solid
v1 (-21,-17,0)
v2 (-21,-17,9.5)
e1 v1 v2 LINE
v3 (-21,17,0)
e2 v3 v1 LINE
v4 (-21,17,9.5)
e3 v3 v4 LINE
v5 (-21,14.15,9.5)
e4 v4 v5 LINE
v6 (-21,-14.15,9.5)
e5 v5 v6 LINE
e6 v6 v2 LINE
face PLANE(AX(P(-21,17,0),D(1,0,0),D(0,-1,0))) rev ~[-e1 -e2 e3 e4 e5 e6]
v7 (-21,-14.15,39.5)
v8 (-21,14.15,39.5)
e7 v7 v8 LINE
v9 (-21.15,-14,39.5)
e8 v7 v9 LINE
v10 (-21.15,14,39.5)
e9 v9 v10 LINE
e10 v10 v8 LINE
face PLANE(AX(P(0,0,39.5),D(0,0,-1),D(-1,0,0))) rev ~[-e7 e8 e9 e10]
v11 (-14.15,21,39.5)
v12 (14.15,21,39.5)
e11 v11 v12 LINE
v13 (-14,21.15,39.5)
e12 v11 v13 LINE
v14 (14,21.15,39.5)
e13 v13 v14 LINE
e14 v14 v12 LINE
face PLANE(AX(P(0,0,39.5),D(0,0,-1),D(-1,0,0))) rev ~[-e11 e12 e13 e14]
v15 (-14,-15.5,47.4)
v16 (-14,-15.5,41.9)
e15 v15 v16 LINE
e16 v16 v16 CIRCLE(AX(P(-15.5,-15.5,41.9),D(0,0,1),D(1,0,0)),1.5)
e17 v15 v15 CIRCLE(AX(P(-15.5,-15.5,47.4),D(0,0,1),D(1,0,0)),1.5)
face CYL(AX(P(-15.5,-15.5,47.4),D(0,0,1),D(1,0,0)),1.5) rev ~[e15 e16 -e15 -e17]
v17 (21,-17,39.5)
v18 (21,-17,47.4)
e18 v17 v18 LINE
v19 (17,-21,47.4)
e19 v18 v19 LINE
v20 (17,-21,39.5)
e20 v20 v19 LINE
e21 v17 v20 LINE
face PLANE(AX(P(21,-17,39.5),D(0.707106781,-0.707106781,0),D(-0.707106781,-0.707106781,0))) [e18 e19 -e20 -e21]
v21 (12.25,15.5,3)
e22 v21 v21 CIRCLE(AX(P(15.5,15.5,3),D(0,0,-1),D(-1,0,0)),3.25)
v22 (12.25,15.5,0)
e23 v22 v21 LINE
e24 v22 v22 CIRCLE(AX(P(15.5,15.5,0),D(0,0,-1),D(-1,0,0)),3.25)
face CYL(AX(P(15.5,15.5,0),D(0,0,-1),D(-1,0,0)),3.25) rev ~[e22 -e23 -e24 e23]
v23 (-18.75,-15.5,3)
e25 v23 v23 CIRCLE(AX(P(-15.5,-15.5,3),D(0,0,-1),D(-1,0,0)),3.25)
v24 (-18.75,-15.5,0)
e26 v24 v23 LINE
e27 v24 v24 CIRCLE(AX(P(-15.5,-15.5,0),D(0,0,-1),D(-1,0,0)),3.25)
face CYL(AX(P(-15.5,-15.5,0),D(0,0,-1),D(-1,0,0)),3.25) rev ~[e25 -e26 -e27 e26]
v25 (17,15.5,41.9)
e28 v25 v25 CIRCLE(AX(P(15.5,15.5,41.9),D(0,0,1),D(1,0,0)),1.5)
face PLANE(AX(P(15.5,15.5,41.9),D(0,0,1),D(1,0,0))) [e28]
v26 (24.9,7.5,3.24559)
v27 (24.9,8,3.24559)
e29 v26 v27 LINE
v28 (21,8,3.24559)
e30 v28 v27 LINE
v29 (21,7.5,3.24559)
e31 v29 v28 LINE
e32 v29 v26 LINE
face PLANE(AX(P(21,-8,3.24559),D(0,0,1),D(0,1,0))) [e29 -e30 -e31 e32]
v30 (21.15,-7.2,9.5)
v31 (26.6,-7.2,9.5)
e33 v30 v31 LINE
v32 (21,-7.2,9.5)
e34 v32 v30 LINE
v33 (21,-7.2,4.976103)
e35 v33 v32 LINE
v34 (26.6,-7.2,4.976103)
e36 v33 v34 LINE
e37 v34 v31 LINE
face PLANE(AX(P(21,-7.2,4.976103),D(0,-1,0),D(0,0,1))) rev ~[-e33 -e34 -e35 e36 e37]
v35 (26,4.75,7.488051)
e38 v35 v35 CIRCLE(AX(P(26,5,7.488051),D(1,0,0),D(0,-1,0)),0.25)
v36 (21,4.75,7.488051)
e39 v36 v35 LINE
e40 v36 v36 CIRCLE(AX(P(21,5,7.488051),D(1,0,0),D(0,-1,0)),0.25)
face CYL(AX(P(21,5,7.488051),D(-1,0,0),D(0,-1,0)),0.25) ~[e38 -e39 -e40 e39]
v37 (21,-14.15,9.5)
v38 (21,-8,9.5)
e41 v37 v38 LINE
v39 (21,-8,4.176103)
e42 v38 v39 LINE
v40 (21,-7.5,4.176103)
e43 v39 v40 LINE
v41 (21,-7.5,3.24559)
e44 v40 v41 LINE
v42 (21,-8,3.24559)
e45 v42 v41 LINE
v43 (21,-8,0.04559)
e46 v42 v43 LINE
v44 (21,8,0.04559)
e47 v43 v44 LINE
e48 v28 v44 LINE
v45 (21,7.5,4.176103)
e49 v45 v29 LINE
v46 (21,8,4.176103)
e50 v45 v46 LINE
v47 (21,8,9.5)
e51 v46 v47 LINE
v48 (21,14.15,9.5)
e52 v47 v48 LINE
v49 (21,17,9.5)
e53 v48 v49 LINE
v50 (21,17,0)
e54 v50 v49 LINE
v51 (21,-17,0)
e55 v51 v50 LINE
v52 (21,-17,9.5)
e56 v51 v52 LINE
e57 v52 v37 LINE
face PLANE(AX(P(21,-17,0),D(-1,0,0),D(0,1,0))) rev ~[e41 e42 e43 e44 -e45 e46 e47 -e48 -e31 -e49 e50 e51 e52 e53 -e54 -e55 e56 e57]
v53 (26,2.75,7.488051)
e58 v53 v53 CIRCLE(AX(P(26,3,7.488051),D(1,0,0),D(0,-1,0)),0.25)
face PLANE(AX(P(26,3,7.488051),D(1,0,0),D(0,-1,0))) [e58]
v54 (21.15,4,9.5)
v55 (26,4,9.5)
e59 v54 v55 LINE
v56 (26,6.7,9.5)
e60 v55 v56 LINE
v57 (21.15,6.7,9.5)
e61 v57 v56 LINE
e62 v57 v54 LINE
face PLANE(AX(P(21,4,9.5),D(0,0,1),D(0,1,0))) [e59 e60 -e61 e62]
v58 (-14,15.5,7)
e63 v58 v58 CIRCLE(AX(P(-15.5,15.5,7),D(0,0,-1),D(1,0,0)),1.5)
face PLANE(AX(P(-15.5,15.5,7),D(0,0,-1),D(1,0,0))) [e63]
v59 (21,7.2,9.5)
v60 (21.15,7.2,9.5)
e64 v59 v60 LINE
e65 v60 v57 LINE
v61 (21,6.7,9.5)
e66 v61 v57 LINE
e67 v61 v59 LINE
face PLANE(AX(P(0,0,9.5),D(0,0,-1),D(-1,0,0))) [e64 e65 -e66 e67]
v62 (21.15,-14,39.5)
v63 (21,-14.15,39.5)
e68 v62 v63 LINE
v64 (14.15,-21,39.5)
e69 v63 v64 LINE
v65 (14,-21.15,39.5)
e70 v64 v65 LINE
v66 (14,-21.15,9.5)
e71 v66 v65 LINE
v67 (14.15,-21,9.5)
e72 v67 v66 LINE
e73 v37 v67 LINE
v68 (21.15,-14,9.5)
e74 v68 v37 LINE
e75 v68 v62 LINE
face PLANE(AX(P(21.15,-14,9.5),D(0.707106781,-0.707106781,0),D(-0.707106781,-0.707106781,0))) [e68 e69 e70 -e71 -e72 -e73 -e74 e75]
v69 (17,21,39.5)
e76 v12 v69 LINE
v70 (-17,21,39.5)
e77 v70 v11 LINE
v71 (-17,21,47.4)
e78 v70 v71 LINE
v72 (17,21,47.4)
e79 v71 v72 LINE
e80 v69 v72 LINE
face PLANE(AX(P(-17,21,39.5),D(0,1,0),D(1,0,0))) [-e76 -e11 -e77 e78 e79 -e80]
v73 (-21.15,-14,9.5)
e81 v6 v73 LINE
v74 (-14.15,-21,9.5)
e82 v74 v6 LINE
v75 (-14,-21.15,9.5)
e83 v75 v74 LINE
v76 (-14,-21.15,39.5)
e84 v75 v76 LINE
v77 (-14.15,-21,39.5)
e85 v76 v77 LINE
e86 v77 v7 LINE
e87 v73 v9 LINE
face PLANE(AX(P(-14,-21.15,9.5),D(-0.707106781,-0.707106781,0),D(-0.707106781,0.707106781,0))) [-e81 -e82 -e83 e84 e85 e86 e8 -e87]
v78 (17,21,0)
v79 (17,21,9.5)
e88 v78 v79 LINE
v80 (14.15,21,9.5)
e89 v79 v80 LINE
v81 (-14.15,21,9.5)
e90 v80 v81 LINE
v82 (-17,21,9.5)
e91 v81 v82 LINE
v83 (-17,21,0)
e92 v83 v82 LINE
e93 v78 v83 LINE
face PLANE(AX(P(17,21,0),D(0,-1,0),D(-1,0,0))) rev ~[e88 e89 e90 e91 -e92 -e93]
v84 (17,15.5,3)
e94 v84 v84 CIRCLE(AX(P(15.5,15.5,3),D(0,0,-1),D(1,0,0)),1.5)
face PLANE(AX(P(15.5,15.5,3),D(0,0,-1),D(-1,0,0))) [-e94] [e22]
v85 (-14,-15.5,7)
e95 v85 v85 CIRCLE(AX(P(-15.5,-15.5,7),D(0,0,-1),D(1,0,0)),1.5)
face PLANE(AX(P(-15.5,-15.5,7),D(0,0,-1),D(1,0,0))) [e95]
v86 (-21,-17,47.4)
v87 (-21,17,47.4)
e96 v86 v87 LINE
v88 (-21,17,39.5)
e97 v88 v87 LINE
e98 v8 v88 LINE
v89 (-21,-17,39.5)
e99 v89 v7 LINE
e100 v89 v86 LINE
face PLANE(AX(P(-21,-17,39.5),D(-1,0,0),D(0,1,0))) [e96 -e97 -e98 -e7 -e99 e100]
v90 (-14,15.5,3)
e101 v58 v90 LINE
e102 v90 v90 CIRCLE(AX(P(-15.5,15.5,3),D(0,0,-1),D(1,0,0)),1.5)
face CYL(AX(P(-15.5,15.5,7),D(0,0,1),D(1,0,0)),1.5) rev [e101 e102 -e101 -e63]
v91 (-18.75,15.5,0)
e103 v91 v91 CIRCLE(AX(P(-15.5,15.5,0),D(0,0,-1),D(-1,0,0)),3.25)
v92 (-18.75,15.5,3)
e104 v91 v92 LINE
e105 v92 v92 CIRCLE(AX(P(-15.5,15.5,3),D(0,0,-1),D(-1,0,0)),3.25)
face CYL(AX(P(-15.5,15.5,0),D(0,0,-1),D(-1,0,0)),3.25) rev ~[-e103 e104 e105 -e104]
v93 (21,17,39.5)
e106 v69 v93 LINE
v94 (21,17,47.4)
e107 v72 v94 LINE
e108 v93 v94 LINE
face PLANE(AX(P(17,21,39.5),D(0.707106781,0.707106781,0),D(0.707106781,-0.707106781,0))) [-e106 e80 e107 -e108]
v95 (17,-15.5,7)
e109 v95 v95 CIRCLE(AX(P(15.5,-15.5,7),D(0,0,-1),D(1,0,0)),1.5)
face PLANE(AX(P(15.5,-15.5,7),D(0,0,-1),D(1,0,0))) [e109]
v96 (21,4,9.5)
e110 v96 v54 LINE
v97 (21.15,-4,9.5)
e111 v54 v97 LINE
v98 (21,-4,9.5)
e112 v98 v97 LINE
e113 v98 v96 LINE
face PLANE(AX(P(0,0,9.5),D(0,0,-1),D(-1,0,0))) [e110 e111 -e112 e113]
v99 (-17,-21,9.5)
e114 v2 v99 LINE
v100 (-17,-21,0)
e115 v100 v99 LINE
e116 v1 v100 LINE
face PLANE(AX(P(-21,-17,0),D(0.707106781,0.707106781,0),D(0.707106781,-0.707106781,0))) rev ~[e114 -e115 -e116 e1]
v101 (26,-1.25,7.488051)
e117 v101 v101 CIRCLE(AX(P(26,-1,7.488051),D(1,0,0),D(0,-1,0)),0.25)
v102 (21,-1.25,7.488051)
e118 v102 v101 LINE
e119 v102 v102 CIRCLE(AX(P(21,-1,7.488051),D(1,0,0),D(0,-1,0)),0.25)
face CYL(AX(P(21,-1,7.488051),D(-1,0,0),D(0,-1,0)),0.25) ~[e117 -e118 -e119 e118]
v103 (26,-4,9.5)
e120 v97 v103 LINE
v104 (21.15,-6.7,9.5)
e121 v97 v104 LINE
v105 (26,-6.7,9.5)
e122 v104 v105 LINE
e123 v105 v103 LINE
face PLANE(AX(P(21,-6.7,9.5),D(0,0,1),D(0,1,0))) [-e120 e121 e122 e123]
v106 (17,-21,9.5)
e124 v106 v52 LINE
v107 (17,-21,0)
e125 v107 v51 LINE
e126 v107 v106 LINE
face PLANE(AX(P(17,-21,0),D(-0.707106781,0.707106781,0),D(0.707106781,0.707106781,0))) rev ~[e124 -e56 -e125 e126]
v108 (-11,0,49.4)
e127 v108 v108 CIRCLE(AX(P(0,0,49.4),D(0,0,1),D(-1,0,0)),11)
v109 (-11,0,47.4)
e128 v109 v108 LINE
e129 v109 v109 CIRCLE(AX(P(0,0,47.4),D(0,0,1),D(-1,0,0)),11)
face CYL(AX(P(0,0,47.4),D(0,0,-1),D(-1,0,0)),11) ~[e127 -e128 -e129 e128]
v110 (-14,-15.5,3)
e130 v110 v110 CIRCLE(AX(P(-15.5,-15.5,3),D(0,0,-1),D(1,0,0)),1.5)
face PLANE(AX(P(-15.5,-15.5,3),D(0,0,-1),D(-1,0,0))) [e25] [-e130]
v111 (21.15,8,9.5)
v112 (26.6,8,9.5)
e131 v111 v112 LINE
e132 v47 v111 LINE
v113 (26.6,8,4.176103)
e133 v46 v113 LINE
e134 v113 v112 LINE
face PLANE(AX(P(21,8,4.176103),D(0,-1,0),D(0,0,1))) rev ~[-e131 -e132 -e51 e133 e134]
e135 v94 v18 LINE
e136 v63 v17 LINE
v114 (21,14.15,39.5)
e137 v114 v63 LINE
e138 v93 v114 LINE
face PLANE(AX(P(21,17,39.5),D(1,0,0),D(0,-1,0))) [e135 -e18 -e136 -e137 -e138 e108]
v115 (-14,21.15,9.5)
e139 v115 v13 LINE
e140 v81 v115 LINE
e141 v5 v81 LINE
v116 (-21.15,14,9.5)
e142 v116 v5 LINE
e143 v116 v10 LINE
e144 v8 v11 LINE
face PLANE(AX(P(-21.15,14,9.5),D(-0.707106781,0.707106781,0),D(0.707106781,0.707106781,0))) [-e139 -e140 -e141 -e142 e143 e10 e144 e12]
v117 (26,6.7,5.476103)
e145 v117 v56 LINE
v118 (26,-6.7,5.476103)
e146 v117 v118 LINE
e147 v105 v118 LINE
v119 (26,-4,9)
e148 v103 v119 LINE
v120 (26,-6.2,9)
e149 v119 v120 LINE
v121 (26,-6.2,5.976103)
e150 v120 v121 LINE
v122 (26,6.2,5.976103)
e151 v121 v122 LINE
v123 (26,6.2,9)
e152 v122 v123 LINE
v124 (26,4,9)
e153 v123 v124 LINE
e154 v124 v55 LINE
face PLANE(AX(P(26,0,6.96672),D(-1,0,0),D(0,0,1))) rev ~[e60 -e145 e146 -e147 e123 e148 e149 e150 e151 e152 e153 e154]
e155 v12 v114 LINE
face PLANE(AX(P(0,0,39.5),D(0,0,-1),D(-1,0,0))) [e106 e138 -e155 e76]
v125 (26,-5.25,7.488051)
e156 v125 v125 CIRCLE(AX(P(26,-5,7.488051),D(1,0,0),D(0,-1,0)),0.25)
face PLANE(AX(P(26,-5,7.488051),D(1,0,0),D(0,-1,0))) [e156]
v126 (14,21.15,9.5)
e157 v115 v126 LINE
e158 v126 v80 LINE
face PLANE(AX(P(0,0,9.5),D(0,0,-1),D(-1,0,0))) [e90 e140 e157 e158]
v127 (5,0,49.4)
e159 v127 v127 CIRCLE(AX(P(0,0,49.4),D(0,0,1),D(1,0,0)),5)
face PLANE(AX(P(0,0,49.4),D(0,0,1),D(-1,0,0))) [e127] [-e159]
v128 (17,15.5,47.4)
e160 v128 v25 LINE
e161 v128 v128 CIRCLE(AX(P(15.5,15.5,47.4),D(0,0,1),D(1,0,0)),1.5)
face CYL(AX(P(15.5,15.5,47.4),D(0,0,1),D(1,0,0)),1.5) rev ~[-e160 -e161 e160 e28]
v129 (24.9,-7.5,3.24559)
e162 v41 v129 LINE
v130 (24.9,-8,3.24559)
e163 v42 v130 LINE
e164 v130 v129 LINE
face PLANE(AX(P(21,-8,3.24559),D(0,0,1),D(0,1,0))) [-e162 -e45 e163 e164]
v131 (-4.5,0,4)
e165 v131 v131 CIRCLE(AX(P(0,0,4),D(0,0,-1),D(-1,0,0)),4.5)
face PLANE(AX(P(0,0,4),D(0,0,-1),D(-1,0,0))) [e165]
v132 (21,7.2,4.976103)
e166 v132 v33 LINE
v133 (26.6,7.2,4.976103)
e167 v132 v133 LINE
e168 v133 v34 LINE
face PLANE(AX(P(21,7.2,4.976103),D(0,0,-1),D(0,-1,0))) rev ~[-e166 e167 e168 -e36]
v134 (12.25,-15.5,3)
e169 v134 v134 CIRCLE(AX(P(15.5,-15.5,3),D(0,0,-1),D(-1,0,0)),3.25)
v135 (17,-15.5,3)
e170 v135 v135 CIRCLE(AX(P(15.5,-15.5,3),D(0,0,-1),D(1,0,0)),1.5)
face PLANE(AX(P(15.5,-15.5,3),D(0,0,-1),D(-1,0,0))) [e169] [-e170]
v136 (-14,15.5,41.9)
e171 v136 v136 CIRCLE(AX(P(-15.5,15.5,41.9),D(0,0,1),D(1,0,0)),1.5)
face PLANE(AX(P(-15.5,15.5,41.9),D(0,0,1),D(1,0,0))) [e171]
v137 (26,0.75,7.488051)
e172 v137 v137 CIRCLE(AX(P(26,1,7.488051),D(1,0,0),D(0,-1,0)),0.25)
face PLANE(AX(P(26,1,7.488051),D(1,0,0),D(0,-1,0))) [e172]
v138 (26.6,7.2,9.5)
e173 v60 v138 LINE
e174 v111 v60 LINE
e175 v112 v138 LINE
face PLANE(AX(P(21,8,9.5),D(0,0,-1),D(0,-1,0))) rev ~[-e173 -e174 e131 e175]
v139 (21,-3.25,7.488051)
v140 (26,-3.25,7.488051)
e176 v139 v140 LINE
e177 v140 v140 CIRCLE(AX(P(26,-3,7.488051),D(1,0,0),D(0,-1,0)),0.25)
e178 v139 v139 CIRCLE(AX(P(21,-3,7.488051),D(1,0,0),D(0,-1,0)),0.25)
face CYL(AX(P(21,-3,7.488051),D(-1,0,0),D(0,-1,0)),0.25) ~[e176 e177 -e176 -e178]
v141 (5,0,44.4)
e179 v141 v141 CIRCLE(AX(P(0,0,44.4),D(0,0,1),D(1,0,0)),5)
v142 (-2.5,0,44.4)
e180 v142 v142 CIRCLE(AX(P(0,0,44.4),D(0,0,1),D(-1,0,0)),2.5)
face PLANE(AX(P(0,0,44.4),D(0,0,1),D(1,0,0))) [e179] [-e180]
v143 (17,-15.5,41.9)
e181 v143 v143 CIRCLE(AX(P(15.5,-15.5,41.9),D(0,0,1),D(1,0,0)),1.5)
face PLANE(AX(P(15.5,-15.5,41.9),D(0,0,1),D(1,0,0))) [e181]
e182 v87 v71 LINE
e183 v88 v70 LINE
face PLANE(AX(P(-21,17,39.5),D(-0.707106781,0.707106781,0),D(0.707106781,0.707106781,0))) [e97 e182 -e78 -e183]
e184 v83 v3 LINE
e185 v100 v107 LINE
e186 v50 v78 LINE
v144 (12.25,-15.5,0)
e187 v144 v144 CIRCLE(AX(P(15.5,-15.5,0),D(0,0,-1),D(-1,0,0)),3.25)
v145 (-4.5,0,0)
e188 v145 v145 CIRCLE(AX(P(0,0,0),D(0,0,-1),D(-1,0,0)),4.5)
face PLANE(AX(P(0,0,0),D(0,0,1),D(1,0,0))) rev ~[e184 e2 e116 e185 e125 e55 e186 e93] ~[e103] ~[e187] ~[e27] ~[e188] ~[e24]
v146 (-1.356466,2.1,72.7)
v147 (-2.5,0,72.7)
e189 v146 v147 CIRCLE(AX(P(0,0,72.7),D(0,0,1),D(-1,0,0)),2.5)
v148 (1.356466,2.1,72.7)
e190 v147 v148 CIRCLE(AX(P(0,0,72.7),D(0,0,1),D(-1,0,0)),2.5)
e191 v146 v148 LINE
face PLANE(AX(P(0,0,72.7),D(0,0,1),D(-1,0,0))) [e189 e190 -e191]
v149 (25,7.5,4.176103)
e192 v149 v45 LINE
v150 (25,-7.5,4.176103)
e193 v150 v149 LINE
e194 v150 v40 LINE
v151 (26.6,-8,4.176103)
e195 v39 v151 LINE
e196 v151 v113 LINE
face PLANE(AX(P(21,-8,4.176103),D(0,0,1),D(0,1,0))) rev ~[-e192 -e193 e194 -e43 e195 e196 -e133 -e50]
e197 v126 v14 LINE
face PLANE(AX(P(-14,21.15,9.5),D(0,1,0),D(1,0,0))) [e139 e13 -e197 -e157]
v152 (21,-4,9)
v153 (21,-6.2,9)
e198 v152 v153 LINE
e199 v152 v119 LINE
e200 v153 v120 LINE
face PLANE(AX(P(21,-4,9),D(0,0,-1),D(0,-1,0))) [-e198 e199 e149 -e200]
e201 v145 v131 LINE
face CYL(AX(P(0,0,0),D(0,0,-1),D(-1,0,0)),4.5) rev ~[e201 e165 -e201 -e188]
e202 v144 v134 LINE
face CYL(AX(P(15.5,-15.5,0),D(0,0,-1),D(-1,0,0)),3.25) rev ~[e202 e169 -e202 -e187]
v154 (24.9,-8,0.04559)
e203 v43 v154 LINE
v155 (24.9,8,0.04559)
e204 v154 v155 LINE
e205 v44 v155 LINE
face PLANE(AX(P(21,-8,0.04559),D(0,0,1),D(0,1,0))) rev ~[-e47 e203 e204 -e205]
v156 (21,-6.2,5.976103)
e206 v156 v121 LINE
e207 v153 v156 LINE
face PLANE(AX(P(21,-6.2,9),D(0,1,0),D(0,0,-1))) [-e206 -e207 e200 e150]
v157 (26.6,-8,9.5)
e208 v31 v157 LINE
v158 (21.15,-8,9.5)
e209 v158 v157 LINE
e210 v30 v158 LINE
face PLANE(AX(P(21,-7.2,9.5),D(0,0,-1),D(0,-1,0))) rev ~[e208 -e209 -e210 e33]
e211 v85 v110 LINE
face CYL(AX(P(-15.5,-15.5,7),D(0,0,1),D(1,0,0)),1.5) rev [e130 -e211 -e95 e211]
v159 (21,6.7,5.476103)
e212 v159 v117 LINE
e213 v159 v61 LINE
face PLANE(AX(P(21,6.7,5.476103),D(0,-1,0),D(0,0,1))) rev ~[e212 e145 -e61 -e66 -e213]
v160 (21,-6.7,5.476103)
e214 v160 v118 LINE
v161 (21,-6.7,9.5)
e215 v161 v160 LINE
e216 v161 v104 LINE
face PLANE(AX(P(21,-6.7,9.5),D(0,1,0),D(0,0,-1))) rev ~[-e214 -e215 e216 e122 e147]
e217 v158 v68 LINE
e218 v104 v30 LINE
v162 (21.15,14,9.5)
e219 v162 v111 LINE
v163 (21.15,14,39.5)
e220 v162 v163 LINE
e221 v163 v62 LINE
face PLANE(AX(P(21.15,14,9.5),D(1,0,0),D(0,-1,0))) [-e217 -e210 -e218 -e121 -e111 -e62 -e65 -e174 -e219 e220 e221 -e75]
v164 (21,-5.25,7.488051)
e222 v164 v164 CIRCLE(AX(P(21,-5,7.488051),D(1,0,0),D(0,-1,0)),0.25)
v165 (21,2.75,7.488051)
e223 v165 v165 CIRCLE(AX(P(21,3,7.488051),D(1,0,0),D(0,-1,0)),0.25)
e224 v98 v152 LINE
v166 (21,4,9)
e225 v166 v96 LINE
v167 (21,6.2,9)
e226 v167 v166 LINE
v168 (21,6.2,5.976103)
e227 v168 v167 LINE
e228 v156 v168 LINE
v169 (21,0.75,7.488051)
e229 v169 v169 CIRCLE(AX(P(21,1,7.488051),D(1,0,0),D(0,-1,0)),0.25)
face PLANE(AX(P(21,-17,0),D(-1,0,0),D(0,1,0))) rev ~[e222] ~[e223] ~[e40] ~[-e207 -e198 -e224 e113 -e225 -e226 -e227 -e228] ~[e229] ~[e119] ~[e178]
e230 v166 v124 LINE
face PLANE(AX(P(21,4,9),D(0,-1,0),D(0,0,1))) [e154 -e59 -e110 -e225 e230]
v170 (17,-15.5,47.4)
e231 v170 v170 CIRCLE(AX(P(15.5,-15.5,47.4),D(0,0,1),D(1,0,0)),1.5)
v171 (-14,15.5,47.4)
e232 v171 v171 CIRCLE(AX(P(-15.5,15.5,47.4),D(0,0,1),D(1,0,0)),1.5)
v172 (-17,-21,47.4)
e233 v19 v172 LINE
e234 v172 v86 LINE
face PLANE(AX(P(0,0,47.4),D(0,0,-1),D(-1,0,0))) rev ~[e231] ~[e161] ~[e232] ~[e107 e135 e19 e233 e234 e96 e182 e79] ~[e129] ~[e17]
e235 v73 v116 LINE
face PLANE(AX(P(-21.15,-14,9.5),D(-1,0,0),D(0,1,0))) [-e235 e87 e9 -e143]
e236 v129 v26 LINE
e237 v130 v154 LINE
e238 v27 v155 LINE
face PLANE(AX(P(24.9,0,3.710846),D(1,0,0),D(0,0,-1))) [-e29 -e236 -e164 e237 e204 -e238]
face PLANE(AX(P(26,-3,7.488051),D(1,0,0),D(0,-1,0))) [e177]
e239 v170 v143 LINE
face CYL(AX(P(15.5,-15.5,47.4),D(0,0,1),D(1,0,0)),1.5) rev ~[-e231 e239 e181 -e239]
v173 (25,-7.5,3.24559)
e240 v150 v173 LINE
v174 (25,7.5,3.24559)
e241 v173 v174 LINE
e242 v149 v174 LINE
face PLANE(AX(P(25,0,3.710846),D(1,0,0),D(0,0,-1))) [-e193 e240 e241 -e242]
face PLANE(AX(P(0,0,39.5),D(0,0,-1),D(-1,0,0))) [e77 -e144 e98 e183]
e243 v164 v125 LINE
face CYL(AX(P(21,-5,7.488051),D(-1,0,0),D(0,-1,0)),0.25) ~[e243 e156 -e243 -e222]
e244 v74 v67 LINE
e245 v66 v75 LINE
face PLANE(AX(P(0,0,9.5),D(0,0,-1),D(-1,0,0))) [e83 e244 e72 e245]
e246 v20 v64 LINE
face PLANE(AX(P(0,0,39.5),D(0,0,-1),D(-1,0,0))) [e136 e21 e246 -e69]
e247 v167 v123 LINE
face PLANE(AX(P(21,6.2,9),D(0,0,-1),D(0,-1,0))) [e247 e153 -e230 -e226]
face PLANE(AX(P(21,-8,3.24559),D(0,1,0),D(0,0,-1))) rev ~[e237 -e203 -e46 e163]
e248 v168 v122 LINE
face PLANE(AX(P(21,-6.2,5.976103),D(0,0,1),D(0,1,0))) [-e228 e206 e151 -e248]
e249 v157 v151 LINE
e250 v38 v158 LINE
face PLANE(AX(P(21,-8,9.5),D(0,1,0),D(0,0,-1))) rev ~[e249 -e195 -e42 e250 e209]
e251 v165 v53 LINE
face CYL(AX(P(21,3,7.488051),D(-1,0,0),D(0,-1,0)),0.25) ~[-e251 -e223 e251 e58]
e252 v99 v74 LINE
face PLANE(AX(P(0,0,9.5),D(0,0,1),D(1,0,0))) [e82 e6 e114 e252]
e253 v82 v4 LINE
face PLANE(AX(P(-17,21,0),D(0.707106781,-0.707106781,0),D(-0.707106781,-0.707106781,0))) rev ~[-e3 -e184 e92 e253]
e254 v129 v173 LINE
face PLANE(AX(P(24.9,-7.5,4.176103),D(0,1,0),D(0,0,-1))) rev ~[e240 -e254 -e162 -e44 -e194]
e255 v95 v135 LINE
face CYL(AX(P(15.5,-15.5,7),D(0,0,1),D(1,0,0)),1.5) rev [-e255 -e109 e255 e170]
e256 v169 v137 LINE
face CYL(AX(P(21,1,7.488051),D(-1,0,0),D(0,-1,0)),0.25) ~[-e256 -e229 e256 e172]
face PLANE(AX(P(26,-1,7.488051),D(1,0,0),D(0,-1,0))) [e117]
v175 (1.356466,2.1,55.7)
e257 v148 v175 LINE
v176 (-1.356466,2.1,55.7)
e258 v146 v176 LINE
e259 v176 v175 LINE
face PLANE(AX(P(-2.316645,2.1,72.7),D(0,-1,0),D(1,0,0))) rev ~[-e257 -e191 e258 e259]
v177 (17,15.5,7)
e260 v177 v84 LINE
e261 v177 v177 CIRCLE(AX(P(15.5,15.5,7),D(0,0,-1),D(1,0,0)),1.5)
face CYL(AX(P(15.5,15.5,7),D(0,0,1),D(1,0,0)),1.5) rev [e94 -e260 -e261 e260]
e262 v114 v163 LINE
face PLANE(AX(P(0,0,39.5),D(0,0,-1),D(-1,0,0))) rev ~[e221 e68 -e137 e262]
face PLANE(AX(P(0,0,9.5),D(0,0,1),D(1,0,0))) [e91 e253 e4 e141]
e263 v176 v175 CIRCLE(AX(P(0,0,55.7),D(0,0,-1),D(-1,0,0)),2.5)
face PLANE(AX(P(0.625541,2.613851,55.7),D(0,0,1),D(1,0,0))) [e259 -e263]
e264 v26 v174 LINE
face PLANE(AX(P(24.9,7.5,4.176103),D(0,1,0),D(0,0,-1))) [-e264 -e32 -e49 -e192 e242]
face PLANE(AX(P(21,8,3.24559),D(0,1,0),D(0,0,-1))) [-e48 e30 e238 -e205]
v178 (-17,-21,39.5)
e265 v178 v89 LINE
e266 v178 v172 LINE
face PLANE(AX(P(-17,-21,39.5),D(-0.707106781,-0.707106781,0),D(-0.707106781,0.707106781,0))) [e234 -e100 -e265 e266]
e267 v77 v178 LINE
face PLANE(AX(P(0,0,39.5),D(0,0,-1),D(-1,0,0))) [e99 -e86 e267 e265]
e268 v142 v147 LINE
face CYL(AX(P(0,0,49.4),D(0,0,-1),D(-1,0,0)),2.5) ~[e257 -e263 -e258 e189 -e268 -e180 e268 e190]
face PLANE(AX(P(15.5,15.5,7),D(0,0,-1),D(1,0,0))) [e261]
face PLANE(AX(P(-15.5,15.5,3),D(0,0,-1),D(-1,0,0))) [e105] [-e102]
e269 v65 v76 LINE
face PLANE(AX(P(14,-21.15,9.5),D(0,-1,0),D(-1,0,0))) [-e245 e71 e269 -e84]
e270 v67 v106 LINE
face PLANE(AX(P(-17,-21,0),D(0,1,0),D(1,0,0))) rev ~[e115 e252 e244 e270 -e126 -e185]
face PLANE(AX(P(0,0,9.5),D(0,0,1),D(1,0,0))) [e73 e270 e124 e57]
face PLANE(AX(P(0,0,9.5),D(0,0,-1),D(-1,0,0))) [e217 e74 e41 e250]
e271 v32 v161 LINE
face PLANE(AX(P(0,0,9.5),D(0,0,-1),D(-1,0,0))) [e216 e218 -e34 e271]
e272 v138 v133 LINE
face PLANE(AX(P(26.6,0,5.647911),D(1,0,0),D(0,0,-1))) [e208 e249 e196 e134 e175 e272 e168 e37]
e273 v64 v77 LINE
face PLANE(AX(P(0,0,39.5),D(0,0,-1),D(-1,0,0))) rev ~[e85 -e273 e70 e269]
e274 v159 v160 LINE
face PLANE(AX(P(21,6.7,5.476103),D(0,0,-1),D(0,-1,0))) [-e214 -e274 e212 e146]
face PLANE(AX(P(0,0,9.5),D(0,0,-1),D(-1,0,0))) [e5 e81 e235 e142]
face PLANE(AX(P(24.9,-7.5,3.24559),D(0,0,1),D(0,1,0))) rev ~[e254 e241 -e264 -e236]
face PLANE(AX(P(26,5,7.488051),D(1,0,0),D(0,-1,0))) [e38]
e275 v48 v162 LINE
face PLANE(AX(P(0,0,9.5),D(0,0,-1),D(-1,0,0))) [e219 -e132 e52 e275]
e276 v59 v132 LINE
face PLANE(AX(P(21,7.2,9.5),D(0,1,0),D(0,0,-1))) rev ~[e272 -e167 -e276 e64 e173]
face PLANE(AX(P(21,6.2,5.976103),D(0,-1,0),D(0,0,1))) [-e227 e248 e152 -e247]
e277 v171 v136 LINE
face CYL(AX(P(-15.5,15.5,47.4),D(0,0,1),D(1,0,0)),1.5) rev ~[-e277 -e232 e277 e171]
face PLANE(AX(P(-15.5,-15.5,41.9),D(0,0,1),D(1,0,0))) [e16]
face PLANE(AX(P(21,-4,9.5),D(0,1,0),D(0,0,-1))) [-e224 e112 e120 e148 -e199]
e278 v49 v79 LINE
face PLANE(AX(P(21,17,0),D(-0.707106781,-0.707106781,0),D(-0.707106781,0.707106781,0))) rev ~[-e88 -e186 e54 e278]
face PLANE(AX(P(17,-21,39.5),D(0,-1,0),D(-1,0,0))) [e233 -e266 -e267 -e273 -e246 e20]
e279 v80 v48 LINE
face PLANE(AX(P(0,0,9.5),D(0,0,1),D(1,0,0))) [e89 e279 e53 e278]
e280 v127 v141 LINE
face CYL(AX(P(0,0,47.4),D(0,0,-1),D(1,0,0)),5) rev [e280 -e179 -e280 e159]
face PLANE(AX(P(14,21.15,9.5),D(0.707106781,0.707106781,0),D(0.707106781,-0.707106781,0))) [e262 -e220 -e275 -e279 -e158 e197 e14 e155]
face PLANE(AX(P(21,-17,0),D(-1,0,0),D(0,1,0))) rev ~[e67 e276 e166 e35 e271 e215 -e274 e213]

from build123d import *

# Parameters (mm, degrees)
BOSS_EXTRUDE1_DEPTH  = 9.5
BOSS_EXTRUDE2_DEPTH  = 30
BOSS_EXTRUDE3_DEPTH  = 7.9
SKETCH5_R            = 11
SKETCH5_R_2          = 5
BOSS_EXTRUDE4_DEPTH  = 2
CUT_EXTRUDE1_START   = -3
SKETCH6_R            = 5
CUT_EXTRUDE1_DEPTH   = 3
SKETCH7_R            = 2.5
BOSS_EXTRUDE5_DEPTH  = 5
SKETCH8_R            = 2.5
BOSS_EXTRUDE6_DEPTH  = 23.3
CUT_EXTRUDE2_DEPTH   = 17
SKETCH11_W           = 3.2
SKETCH11_H           = 16
BOSS_EXTRUDE8_DEPTH  = 3.9
BOSS_EXTRUDE9_DEPTH  = 5.6
SKETCH13_W           = 0.930512921
SKETCH13_H           = 15
BOSS_EXTRUDE10_DEPTH = 3.9
SKETCH14_W           = 0.930512921
SKETCH14_H           = 15
BOSS_EXTRUDE11_DEPTH = 0.1
BOSS_EXTRUDE12_DEPTH = 5
SKETCH16_R           = 0.25
BOSS_EXTRUDE13_DEPTH = 5
SKETCH17_R           = 1.5
CUT_EXTRUDE3_DEPTH   = 5.5
SKETCH18_R           = 3.25
CUT_EXTRUDE4_DEPTH   = 3
CUT_EXTRUDE5_START   = -4
SKETCH20_R           = 1.5
CUT_EXTRUDE5_DEPTH   = 4
SKETCH21_R           = 4.5
CUT_EXTRUDE6_DEPTH   = 4


with BuildPart() as part:
    # Sketch1 → Boss-Extrude1 (new body)
    with BuildSketch(Plane.XY):
        Polygon((-17, 21), (-21, 17), (-21, -17), (-17, -21), (17, -21), (21, -17), (21, 17), (17, 21), align=None)
    extrude(amount=BOSS_EXTRUDE1_DEPTH)

    # Sketch2 → Boss-Extrude2 (add)
    with BuildSketch(Plane.XY.offset(9.5)):
        Polygon((14, 21.15), (21.15, 14), (21.15, -14), (14, -21.15), (-14, -21.15), (-21.15, -14), (-21.15, 14), (-14, 21.15), align=None)
    extrude(amount=BOSS_EXTRUDE2_DEPTH)

    # Sketch3 → Boss-Extrude3 (add)
    with BuildSketch(Plane.XY.offset(39.5)):
        Polygon((-17, 21), (17, 21), (21, 17), (21, -17), (17, -21), (-17, -21), (-21, -17), (-21, 17), align=None)
    extrude(amount=BOSS_EXTRUDE3_DEPTH)

    # Sketch5 → Boss-Extrude4 (add)
    with BuildSketch(Plane.XY.offset(47.4)):
        with Locations(Location((0, 0, 0), (0, 0, 180))):
            Circle(SKETCH5_R)
        Circle(SKETCH5_R_2, mode=Mode.SUBTRACT)
    extrude(amount=BOSS_EXTRUDE4_DEPTH)

    # Sketch6 → Cut-Extrude1 (cut)
    with BuildSketch(Plane.XY.offset(47.4).offset(CUT_EXTRUDE1_START)):
        Circle(SKETCH6_R)
    extrude(amount=CUT_EXTRUDE1_DEPTH, mode=Mode.SUBTRACT)

    # Sketch7 → Boss-Extrude5 (add)
    with BuildSketch(Plane.XY.offset(44.4)):
        with Locations(Location((0, 0, 0), (0, 0, 180))):
            Circle(SKETCH7_R)
    extrude(amount=BOSS_EXTRUDE5_DEPTH)

    # Sketch8 → Boss-Extrude6 (add)
    with BuildSketch(Plane.XY.offset(49.4)):
        with Locations(Location((0, 0, 0), (0, 0, 180))):
            Circle(SKETCH8_R)
    extrude(amount=BOSS_EXTRUDE6_DEPTH)

    # Sketch9 → Cut-Extrude2 (cut)
    with BuildSketch(Plane.XY.offset(72.7)):
        Polygon((-2.316645086, 2.1), (3.697939095, 2.1), (-0.123554347, 3.991048302), align=None)
    extrude(amount=-CUT_EXTRUDE2_DEPTH, mode=Mode.SUBTRACT)

    # Sketch11 → Boss-Extrude8 (add)
    with BuildSketch(Plane(origin=(21, 0, 0), x_dir=(0, 0, -1), z_dir=(1, 0, 0))):
        with Locations((-1.645589959, 0)):
            Rectangle(SKETCH11_W, SKETCH11_H)
    extrude(amount=BOSS_EXTRUDE8_DEPTH)

    # Sketch12 → Boss-Extrude9 (add)
    with BuildSketch(Plane(origin=(21, 0, 0), x_dir=(0, 0, -1), z_dir=(1, 0, 0))):
        Polygon((-9.5, 7.2), (-4.97610288, 7.2), (-4.97610288, -7.2), (-9.5, -7.2), (-9.5, -8), (-4.17610288, -8), (-4.17610288, -7.2), (-4.17610288, 7.2), (-4.17610288, 8), (-9.5, 8), align=None)
    extrude(amount=BOSS_EXTRUDE9_DEPTH)

    # Sketch13 → Boss-Extrude10 (add)
    with BuildSketch(Plane(origin=(21, 0, 0), x_dir=(0, 0, -1), z_dir=(1, 0, 0))):
        with Locations((-3.71084642, 0)):
            Rectangle(SKETCH13_W, SKETCH13_H)
    extrude(amount=BOSS_EXTRUDE10_DEPTH)

    # Sketch14 → Boss-Extrude11 (add)
    with BuildSketch(Plane(origin=(24.9, 0, 0), x_dir=(0, 0, -1), z_dir=(1, 0, 0))):
        with Locations((-3.71084642, 0)):
            Rectangle(SKETCH14_W, SKETCH14_H)
    extrude(amount=BOSS_EXTRUDE11_DEPTH)

    # Sketch15 → Boss-Extrude12 (add)
    with BuildSketch(Plane(origin=(21, 0, 0), x_dir=(0, 0, -1), z_dir=(1, 0, 0))):
        Polygon((-5.97610288, 6.2), (-9, 6.2), (-9, 4), (-9.5, 4), (-9.5, 6.7), (-9, 6.7), (-5.47610288, 6.7), (-5.47610288, -6.7), (-9, -6.7), (-9.5, -6.7), (-9.5, -4), (-9, -4), (-9, -6.2), (-5.97610288, -6.2), align=None)
    extrude(amount=BOSS_EXTRUDE12_DEPTH)

    # Sketch16 → Boss-Extrude13 (add)
    with BuildSketch(Plane(origin=(21, 0, 0), x_dir=(0, 0, -1), z_dir=(1, 0, 0))):
        with Locations(Location((-7.48805144, 5, 0), (0, 0, 270))):
            Circle(SKETCH16_R)
        with Locations(Location((-7.48805144, 3, 0), (0, 0, 270))):
            Circle(SKETCH16_R)
        with Locations(Location((-7.48805144, 1, 0), (0, 0, 270))):
            Circle(SKETCH16_R)
        with Locations(Location((-7.48805144, -1, 0), (0, 0, 270))):
            Circle(SKETCH16_R)
        with Locations(Location((-7.48805144, -3, 0), (0, 0, 270))):
            Circle(SKETCH16_R)
        with Locations(Location((-7.48805144, -5, 0), (0, 0, 270))):
            Circle(SKETCH16_R)
    extrude(amount=BOSS_EXTRUDE13_DEPTH)

    # Sketch17 → Cut-Extrude3 (cut)
    with BuildSketch(Plane.XY.offset(47.4)):
        with Locations((-15.5, 15.5)):
            Circle(SKETCH17_R)
        with Locations((15.5, 15.5)):
            Circle(SKETCH17_R)
        with Locations((15.5, -15.5)):
            Circle(SKETCH17_R)
        with Locations((-15.5, -15.5)):
            Circle(SKETCH17_R)
    extrude(amount=-CUT_EXTRUDE3_DEPTH, mode=Mode.SUBTRACT)

    # Sketch18 → Cut-Extrude4 (cut)
    with BuildSketch(Plane(origin=(0, 0, 0), x_dir=(-1, 0, 0), z_dir=(0, 0, -1))):
        with Locations((-15.5, 15.5)):
            Circle(SKETCH18_R)
        with Locations((15.5, 15.5)):
            Circle(SKETCH18_R)
        with Locations((15.5, -15.5)):
            Circle(SKETCH18_R)
        with Locations((-15.5, -15.5)):
            Circle(SKETCH18_R)
    extrude(amount=-CUT_EXTRUDE4_DEPTH, mode=Mode.SUBTRACT)

    # Sketch20 → Cut-Extrude5 (cut)
    with BuildSketch(Plane(origin=(0, 0, 3), x_dir=(-1, 0, 0), z_dir=(0, 0, -1)).offset(CUT_EXTRUDE5_START)):
        with Locations(Location((-15.5, 15.5, 0), (0, 0, 180))):
            Circle(SKETCH20_R)
        with Locations(Location((15.5, 15.5, 0), (0, 0, 180))):
            Circle(SKETCH20_R)
        with Locations(Location((-15.5, -15.5, 0), (0, 0, 180))):
            Circle(SKETCH20_R)
        with Locations(Location((15.5, -15.5, 0), (0, 0, 180))):
            Circle(SKETCH20_R)
    extrude(amount=CUT_EXTRUDE5_DEPTH, mode=Mode.SUBTRACT)

    # Sketch21 → Cut-Extrude6 (cut)
    with BuildSketch(Plane(origin=(0, 0, 0), x_dir=(-1, 0, 0), z_dir=(0, 0, -1))):
        Circle(SKETCH21_R)
    extrude(amount=-CUT_EXTRUDE6_DEPTH, mode=Mode.SUBTRACT)


solid = part.part
